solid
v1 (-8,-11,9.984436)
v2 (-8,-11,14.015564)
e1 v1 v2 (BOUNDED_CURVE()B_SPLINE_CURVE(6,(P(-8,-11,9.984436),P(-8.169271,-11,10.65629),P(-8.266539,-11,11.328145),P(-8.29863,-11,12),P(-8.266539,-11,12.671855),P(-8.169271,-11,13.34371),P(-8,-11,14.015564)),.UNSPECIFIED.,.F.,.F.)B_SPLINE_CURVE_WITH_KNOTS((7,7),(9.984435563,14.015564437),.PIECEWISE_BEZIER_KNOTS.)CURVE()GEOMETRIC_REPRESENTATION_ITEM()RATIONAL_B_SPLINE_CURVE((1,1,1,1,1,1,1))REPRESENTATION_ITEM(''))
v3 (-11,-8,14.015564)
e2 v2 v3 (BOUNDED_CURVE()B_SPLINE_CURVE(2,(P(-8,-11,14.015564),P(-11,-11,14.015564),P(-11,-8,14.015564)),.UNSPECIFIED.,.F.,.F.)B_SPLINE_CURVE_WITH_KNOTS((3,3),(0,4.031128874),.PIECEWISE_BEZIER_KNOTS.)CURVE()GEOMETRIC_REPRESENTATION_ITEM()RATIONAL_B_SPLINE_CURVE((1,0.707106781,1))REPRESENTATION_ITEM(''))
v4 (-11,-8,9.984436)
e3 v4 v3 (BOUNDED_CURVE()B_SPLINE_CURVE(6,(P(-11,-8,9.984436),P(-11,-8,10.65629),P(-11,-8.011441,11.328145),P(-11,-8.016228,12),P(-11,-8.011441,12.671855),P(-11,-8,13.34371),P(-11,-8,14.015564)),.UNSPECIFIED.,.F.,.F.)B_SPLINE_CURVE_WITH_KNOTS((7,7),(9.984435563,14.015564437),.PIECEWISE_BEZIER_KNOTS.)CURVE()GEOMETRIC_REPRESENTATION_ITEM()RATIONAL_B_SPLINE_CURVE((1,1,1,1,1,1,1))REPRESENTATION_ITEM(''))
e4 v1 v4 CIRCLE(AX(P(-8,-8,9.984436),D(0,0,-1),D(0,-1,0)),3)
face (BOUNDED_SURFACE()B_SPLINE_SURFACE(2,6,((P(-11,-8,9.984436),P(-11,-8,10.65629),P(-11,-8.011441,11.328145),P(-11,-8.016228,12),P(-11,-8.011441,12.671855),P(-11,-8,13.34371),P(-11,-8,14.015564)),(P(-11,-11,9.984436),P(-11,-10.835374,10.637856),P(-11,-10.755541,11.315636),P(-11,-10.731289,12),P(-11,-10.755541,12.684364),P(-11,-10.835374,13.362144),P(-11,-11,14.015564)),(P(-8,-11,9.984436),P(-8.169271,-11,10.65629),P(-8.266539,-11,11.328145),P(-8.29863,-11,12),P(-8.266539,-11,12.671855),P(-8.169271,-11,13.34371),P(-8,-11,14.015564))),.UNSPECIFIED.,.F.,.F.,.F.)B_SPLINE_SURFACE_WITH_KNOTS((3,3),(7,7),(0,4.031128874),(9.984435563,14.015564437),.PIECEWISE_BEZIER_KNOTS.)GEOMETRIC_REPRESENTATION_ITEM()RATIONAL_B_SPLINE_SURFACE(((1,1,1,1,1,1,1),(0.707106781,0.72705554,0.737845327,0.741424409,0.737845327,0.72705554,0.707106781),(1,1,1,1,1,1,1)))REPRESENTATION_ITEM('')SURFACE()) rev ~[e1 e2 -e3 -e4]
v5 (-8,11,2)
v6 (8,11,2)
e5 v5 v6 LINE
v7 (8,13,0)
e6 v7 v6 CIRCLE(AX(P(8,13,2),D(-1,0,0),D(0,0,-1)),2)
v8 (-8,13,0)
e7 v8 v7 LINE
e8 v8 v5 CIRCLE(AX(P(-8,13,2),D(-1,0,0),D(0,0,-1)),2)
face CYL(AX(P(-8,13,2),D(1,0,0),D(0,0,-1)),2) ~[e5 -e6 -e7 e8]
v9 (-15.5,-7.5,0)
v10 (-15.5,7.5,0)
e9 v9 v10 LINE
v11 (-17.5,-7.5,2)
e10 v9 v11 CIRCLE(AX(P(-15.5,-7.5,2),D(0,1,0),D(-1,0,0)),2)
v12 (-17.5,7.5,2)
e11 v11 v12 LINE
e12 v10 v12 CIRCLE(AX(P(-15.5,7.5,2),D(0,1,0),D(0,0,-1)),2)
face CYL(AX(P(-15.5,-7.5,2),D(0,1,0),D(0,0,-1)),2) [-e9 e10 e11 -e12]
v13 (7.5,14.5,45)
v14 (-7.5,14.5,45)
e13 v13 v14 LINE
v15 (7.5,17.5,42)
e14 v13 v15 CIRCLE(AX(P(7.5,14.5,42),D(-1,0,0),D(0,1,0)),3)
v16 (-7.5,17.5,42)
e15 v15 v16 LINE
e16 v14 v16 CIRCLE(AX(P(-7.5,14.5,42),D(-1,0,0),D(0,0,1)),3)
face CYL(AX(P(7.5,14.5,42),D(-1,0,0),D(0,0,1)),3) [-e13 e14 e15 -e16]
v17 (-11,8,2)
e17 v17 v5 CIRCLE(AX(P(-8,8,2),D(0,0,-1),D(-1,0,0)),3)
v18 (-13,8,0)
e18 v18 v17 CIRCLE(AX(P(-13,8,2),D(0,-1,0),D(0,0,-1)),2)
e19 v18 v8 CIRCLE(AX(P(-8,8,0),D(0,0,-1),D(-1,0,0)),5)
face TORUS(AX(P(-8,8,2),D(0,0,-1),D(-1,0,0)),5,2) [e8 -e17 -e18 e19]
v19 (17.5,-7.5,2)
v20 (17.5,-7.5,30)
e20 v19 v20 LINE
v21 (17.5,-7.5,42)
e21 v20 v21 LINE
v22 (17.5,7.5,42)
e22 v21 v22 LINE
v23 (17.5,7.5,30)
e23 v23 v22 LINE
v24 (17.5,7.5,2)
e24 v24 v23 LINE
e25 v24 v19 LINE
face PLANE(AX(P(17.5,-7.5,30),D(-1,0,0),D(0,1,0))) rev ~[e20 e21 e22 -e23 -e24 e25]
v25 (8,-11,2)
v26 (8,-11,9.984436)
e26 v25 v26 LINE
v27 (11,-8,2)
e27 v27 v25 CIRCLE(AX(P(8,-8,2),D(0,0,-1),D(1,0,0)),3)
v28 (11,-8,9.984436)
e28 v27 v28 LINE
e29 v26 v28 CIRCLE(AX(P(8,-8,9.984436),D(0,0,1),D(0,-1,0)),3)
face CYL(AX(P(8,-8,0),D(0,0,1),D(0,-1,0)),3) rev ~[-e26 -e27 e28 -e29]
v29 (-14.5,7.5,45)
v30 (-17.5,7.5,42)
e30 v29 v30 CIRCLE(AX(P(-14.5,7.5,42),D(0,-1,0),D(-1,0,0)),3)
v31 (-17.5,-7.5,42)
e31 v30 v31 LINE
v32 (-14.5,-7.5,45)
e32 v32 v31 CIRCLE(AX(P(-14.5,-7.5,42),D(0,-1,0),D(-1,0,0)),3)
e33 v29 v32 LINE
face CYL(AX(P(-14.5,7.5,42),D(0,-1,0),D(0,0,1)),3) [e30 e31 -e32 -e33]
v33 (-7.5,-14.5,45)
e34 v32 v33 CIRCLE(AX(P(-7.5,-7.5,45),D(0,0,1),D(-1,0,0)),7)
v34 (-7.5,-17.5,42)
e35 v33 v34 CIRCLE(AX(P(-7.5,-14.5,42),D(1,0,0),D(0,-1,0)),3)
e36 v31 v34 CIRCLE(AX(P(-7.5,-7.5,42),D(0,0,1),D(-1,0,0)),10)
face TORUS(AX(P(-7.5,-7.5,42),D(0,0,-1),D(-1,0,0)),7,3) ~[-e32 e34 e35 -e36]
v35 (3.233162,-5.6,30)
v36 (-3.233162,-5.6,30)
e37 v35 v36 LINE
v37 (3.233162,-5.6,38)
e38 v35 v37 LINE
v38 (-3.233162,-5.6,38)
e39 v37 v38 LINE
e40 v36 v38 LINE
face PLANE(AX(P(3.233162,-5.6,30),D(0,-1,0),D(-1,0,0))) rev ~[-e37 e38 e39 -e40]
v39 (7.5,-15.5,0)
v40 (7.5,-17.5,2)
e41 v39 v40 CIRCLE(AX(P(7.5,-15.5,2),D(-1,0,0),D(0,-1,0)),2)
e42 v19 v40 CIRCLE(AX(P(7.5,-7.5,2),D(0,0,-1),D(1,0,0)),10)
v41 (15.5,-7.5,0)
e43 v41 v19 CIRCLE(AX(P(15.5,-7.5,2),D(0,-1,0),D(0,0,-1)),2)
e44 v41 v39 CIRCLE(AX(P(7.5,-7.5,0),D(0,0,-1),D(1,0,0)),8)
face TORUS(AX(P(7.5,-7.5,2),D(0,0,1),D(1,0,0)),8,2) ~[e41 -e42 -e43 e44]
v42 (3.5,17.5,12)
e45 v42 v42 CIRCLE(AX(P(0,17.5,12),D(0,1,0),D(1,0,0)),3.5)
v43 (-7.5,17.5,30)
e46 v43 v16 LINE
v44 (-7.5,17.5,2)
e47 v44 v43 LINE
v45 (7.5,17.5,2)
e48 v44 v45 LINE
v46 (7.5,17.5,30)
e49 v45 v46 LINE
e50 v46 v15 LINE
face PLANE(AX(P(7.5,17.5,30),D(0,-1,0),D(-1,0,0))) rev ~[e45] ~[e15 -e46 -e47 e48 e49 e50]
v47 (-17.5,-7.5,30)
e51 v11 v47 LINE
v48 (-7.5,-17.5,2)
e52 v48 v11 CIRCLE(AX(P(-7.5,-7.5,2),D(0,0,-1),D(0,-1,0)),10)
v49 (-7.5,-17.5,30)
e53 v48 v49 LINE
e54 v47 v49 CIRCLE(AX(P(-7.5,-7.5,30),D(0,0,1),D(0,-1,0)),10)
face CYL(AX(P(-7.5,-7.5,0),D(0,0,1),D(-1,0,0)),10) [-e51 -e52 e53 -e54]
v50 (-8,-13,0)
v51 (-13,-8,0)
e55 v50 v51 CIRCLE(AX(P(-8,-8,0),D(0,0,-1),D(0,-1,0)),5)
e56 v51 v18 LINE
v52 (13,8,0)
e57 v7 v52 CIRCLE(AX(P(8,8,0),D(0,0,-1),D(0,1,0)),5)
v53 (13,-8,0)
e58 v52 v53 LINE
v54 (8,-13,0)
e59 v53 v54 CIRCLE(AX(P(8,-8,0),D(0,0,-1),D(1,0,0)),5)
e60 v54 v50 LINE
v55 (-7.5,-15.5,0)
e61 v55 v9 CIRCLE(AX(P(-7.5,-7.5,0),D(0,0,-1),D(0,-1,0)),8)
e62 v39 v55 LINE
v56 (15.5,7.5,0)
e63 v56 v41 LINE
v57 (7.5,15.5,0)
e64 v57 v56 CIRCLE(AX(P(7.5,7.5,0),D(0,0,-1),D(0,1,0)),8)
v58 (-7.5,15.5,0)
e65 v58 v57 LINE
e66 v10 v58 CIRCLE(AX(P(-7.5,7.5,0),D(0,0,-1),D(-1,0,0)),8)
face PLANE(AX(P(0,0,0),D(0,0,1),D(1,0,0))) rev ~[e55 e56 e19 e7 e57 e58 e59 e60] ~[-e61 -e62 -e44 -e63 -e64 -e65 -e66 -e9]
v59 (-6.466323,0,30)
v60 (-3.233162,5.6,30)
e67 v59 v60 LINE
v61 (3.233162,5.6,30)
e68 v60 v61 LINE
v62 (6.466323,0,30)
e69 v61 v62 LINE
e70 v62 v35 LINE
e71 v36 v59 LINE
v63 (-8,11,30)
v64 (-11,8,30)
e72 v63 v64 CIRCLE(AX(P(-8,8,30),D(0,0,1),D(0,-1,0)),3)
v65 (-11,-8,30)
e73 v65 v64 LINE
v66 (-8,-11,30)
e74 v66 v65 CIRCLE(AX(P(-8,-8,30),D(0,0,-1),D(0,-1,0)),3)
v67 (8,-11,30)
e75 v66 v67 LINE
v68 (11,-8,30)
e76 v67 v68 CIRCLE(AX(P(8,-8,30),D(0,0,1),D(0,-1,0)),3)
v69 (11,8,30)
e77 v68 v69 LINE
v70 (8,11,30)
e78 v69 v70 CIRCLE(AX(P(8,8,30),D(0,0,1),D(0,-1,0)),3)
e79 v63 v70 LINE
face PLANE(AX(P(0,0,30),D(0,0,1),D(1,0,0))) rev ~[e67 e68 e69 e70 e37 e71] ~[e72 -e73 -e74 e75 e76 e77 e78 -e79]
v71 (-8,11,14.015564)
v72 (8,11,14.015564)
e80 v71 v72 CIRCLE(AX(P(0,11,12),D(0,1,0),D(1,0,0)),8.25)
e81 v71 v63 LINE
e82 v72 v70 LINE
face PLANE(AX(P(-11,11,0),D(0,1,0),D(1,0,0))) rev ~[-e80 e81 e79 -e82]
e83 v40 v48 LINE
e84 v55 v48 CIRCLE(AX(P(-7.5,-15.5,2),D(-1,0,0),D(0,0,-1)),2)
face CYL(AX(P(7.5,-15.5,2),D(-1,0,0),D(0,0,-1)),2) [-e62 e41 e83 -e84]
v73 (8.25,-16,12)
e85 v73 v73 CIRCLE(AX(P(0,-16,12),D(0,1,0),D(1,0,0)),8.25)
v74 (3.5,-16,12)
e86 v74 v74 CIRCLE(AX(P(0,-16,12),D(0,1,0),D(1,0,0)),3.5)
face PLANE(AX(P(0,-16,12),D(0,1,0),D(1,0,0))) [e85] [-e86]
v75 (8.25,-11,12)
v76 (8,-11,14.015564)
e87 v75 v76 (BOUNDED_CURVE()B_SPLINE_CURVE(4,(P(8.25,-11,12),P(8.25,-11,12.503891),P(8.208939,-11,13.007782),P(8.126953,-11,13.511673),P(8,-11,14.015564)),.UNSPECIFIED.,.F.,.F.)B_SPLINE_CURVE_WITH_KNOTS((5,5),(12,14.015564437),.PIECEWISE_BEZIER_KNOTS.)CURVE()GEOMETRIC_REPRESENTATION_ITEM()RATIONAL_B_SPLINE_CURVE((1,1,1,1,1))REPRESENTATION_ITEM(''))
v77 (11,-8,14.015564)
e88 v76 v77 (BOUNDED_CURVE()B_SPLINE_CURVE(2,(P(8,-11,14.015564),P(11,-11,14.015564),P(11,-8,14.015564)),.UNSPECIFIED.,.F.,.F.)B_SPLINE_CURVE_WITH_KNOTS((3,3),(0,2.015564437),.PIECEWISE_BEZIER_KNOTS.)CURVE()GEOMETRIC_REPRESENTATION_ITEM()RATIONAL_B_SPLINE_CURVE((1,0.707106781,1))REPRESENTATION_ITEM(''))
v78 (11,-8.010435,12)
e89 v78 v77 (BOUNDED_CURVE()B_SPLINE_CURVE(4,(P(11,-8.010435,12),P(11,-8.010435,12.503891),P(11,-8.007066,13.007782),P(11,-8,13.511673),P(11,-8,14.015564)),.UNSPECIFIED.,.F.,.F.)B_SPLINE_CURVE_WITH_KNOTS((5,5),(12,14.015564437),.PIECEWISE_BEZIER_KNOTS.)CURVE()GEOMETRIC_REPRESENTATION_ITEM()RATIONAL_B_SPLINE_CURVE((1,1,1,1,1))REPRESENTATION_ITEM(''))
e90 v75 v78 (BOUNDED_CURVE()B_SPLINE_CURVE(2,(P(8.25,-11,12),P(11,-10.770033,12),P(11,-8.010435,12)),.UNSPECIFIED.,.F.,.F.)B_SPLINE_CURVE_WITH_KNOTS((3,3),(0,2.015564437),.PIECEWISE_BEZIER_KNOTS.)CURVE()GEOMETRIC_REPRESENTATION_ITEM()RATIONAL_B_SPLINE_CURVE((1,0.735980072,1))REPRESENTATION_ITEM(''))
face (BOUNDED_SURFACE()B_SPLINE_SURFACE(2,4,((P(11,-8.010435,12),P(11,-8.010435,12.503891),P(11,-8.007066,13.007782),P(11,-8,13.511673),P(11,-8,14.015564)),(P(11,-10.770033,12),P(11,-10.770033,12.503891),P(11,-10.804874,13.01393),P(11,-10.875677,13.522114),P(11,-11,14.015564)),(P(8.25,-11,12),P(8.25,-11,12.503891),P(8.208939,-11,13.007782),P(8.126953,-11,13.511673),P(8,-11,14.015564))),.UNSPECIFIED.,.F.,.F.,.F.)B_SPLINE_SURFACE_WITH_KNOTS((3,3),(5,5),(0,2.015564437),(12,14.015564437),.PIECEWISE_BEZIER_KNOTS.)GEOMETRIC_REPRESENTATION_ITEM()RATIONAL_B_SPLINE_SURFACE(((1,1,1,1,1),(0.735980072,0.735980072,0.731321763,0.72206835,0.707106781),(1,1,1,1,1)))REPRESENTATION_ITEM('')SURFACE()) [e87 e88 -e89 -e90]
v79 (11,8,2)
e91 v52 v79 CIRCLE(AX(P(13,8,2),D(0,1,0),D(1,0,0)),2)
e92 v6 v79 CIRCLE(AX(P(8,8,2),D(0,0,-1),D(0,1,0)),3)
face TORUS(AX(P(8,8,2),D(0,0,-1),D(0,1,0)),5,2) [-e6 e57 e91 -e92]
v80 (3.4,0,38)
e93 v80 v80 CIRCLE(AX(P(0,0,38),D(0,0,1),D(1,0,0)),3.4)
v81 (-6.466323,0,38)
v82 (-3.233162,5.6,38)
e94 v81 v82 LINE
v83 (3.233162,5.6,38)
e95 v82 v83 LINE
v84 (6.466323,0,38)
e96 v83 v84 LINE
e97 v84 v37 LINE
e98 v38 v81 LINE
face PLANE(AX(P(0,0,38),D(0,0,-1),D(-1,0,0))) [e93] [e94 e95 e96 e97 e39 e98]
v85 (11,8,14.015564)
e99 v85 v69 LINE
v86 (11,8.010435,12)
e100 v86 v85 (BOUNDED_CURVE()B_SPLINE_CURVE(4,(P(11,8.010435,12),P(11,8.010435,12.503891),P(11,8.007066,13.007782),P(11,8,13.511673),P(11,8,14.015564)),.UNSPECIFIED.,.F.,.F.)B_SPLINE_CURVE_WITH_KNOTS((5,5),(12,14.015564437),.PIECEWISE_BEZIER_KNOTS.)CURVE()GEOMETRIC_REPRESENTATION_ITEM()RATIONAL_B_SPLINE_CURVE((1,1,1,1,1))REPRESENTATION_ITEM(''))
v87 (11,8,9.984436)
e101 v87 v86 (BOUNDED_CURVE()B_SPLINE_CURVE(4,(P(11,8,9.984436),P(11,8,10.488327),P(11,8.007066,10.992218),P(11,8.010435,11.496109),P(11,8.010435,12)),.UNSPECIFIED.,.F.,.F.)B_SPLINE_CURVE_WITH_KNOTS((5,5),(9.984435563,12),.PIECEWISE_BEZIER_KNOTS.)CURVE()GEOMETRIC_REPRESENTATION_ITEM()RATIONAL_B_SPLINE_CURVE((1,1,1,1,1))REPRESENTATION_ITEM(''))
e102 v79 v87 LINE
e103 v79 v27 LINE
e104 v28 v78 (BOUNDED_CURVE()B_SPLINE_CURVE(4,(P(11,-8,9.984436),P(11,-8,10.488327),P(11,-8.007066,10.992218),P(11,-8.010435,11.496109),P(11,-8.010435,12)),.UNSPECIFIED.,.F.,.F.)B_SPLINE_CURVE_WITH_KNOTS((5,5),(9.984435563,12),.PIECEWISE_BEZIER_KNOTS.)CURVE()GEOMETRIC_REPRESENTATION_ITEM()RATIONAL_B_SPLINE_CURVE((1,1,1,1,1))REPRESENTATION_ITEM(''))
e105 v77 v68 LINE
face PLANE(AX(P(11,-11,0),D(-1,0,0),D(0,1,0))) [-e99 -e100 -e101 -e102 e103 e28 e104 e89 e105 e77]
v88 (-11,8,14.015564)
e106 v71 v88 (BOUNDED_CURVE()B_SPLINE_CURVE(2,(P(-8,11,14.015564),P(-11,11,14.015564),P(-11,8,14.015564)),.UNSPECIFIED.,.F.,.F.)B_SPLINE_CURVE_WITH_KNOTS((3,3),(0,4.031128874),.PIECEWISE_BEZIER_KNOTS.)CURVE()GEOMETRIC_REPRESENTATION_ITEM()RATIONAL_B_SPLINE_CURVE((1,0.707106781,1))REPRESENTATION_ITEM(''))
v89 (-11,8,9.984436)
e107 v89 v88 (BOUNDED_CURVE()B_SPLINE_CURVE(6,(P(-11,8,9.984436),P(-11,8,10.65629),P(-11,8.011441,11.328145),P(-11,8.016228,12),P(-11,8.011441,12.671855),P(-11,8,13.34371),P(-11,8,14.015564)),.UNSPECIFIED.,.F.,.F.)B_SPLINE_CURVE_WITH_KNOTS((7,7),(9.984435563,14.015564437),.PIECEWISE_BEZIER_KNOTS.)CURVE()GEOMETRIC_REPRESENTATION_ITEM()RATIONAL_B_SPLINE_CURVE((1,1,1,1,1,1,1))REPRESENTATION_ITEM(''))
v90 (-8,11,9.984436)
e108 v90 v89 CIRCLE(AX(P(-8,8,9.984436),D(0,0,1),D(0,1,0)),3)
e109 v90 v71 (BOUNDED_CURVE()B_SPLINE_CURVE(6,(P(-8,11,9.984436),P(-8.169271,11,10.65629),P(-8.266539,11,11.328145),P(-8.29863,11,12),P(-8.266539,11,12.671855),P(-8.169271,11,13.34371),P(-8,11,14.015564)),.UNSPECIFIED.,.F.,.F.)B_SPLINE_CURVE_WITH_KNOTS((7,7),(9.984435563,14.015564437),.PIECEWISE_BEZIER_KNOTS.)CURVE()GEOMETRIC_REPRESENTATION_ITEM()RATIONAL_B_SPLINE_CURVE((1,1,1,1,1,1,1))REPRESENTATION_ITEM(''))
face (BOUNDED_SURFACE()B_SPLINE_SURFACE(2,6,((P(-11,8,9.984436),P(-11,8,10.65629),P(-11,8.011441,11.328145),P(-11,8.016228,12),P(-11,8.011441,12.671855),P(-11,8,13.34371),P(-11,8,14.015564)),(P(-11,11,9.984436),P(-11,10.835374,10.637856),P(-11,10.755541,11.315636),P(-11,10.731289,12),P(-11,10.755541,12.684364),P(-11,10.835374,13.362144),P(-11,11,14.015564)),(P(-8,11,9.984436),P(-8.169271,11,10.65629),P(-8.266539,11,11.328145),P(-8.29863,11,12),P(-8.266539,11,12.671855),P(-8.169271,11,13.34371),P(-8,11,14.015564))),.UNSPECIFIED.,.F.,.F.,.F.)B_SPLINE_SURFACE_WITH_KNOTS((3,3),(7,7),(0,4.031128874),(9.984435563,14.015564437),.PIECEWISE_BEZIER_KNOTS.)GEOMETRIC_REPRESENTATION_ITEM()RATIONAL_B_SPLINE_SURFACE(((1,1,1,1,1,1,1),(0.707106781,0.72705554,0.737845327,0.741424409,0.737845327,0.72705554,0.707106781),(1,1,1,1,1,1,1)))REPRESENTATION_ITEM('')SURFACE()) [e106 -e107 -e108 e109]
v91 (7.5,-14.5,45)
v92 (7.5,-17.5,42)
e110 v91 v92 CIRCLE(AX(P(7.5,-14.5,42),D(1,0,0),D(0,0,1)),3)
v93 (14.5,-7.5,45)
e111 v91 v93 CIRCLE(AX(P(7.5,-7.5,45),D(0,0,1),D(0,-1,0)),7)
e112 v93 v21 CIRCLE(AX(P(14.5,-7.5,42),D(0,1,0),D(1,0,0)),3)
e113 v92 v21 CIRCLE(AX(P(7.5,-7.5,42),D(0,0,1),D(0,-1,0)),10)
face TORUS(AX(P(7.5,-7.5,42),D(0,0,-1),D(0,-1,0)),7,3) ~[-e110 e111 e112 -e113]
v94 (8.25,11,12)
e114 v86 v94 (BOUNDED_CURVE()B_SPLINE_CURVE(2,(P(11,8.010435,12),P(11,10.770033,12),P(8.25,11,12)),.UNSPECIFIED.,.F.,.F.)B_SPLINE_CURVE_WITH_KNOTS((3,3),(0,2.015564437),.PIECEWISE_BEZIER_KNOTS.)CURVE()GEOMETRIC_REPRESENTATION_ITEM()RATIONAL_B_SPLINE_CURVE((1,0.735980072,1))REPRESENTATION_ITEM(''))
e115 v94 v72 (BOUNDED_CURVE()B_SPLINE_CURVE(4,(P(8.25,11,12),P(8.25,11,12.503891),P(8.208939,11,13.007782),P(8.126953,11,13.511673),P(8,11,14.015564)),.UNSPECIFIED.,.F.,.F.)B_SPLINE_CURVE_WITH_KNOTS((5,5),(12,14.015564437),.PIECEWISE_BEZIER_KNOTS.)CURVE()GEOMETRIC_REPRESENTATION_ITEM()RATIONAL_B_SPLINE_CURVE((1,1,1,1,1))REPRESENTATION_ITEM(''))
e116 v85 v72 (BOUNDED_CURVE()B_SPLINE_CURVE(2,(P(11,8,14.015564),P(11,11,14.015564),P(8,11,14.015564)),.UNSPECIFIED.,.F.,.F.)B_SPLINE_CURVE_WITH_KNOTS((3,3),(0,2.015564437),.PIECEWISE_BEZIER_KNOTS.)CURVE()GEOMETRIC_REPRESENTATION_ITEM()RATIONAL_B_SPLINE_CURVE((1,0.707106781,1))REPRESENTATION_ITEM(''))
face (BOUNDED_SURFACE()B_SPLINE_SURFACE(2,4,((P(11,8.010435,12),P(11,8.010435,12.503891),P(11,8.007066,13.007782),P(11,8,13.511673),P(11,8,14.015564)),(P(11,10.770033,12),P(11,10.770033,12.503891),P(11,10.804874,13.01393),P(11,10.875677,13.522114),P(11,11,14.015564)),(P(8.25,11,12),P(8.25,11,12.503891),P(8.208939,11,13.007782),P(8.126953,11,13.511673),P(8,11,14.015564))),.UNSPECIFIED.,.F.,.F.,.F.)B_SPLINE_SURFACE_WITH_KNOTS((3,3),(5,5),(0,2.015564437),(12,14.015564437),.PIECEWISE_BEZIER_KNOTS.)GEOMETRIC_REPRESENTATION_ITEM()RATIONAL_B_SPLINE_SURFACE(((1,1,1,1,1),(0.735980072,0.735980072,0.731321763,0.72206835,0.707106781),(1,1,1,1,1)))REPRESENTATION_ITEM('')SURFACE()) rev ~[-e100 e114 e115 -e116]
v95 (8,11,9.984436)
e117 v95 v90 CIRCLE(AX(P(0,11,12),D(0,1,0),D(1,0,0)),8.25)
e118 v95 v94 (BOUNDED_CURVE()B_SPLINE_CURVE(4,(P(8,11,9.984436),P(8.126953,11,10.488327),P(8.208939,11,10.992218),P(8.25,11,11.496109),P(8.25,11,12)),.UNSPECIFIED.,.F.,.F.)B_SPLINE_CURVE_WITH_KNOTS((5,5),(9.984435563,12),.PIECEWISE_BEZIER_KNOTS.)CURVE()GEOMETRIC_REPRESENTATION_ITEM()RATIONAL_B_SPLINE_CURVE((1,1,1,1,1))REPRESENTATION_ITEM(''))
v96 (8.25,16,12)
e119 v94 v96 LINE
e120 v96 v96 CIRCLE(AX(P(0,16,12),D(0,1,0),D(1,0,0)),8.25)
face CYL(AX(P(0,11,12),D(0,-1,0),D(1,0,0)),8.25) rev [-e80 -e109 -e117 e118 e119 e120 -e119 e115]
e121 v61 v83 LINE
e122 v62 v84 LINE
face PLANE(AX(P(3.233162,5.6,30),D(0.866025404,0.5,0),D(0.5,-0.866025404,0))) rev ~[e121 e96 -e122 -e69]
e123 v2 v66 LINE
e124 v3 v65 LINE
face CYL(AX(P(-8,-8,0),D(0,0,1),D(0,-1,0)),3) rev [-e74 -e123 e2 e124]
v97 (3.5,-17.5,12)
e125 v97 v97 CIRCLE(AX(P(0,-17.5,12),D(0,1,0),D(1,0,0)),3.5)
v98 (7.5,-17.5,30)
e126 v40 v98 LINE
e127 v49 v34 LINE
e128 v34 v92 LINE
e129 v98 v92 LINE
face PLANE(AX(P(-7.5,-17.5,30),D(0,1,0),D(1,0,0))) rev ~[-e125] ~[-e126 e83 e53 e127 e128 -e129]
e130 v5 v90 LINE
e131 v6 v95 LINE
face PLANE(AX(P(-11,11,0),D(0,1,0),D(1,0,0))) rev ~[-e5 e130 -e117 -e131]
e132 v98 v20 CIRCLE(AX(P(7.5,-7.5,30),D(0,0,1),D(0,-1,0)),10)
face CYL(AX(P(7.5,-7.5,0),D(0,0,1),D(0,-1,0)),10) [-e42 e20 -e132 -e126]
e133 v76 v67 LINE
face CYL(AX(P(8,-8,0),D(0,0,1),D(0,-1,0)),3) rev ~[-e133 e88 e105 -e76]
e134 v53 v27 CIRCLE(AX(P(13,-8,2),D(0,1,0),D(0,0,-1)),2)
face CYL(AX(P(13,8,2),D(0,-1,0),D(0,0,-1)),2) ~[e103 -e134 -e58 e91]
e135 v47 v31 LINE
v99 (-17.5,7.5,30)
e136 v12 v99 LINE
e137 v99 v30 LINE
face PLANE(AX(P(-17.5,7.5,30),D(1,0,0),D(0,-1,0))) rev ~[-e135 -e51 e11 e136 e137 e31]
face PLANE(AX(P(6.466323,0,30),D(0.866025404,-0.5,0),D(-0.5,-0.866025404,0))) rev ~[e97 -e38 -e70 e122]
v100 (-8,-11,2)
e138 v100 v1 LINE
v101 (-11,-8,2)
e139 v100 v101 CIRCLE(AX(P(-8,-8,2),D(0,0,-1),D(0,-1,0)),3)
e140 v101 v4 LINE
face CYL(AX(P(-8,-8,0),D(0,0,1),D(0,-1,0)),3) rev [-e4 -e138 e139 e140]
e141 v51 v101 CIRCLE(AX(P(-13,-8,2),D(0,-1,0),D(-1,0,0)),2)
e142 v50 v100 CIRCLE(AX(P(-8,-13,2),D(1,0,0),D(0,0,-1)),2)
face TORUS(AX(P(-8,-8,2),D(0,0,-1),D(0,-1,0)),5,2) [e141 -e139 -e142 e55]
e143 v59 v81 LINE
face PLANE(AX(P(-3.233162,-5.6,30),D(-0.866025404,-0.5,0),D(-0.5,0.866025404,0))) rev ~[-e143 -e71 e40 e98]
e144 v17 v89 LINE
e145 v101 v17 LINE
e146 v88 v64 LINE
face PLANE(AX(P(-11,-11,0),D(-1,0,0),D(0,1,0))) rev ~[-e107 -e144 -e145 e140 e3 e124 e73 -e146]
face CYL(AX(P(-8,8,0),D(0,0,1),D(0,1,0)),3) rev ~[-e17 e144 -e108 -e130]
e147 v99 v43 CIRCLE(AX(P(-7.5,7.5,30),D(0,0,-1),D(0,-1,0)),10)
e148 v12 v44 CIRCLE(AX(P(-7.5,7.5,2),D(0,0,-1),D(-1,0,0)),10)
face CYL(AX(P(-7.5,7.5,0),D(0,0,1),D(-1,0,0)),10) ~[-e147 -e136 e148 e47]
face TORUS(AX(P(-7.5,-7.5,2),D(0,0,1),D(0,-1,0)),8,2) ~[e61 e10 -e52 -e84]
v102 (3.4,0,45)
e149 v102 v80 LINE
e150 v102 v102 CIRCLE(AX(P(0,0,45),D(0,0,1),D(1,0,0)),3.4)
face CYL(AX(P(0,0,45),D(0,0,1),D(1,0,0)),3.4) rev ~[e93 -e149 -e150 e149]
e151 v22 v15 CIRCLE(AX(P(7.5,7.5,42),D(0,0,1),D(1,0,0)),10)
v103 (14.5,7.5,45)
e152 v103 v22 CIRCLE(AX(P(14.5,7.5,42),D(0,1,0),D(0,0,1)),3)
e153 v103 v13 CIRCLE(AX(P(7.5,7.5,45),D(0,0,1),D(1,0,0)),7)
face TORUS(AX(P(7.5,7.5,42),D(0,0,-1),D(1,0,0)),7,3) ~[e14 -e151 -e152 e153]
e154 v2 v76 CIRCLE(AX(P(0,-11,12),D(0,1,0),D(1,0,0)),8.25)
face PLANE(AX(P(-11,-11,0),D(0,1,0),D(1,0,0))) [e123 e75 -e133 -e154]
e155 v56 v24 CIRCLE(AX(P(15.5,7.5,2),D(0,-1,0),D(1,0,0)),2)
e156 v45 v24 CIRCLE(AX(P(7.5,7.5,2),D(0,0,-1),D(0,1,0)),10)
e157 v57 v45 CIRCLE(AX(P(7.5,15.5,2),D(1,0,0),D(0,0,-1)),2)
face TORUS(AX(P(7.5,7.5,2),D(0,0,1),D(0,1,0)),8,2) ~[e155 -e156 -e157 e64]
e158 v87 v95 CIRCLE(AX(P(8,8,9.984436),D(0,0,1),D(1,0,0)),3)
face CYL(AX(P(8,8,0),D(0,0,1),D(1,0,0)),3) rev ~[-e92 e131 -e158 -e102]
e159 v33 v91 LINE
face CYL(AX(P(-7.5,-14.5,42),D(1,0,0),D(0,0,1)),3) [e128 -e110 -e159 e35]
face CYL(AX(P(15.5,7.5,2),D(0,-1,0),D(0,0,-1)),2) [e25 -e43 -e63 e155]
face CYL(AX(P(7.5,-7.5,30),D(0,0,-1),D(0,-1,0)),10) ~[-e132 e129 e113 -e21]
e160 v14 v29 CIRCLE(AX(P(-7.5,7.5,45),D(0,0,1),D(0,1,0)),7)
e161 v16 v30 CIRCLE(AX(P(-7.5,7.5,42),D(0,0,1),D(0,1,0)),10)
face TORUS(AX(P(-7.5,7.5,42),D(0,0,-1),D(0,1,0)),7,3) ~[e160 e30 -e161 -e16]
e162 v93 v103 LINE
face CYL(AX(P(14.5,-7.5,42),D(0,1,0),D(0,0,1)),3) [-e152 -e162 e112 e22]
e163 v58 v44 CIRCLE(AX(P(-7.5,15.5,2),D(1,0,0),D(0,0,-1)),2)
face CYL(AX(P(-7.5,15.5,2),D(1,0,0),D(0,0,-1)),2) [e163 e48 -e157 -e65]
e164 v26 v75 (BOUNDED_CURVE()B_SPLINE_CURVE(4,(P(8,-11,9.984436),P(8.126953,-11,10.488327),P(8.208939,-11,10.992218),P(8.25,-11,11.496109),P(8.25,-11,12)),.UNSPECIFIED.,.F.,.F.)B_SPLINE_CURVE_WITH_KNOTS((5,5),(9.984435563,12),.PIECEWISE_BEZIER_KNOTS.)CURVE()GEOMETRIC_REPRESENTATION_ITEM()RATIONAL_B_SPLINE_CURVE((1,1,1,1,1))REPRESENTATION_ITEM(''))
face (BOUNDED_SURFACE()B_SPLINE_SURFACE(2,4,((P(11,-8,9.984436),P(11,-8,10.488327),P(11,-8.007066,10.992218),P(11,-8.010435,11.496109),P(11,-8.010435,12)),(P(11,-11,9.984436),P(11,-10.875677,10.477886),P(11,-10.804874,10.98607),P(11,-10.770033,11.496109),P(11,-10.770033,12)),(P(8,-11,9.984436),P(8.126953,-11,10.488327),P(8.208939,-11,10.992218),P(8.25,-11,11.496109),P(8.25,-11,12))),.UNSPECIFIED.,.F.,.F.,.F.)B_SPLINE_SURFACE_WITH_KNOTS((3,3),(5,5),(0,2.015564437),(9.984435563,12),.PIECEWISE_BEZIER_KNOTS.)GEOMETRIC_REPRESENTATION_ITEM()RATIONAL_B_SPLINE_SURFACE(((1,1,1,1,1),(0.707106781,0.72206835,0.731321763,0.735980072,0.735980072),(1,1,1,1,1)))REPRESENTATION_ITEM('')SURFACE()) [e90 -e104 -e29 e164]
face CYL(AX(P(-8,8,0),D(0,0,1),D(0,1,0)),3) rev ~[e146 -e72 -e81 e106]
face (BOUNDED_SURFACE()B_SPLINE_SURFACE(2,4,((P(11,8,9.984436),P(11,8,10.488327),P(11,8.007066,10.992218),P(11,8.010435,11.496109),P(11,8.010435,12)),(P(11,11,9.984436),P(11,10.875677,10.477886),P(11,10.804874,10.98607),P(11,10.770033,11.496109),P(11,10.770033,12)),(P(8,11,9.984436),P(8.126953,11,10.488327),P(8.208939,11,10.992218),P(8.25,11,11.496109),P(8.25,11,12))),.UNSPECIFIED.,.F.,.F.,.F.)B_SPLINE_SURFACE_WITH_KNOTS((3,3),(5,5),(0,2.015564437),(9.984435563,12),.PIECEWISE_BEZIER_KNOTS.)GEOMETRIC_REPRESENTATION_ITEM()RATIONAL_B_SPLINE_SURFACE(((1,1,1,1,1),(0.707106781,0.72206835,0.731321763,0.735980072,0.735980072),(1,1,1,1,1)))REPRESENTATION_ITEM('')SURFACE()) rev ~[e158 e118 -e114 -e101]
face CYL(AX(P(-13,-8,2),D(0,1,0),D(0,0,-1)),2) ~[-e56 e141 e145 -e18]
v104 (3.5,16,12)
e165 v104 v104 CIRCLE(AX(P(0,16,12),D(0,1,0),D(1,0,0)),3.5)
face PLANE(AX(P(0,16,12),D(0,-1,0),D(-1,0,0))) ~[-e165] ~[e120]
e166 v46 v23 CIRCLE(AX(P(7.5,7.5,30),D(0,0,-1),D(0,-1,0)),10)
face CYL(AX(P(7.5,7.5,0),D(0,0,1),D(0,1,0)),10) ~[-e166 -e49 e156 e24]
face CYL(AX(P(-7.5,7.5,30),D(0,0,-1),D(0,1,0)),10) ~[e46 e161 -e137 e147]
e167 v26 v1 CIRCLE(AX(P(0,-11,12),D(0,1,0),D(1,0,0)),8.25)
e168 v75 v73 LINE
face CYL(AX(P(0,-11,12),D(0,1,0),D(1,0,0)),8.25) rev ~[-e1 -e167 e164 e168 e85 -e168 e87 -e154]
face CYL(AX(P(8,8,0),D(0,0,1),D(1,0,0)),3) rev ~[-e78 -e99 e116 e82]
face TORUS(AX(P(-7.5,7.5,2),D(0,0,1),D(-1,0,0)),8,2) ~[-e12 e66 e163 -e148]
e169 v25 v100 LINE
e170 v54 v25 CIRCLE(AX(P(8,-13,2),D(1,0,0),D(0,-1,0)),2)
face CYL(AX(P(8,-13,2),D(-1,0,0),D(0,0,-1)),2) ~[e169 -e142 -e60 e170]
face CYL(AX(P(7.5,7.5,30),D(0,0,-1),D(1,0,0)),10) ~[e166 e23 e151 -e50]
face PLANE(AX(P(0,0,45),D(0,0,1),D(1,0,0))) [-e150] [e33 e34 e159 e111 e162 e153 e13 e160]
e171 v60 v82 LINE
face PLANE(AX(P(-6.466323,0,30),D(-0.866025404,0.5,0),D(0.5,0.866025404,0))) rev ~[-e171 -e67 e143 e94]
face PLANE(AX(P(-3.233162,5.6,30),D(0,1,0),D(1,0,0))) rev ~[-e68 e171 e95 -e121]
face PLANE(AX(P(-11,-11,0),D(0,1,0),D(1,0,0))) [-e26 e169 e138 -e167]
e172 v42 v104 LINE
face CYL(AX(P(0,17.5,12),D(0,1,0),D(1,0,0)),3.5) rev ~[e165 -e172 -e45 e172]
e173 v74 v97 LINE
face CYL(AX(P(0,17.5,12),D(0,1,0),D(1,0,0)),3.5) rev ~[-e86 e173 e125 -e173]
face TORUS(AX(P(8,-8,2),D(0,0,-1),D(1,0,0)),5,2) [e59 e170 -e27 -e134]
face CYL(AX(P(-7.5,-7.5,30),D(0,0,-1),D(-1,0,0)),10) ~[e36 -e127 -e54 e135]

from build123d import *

# Parameters (mm, degrees)
SKETCH1_W                = 35
SKETCH1_H                = 35
SKETCH1_W_2              = 22
SKETCH1_H_2              = 22
BOSS_EXTRUDE1_DEPTH      = 30
SKETCH3_R                = 3.5
CUT_EXTRUDE2_DEPTH       = 50.307707308
SKETCH4_R                = 8.25
CUT_EXTRUDE3_DEPTH       = 5
FILLET1_R                = 10
FILLET4_R                = 2
FILLET5_R                = 3
NUT_START                = 15
NUT_RETENTION_AREA_DEPTH = 15
CUT_EXTRUDE5_DEPTH       = 8
SKETCH7_R                = 3.4
CUT_EXTRUDE6_DEPTH       = 52.356596548
FILLET6_R                = 3
FILLET7_R                = 2


with BuildPart() as part:
    # Sketch1 → Boss-Extrude1 (new body)
    with BuildSketch(Plane.XY):
        Rectangle(SKETCH1_W, SKETCH1_H)
        Rectangle(SKETCH1_W_2, SKETCH1_H_2, mode=Mode.SUBTRACT)
    extrude(amount=BOSS_EXTRUDE1_DEPTH)

    # Sketch3 → Cut-Extrude2 (cut, through all)
    with BuildSketch(Plane(origin=(0, 17.5, 0), x_dir=(1, 0, 0), z_dir=(0, 1, 0))):
        with Locations((0, -12)):
            Circle(SKETCH3_R)
    extrude(amount=-CUT_EXTRUDE2_DEPTH, mode=Mode.SUBTRACT)

    # Sketch4 → Cut-Extrude3 (cut)
    with BuildSketch(Plane(origin=(0, -11, 0), x_dir=(1, 0, 0), z_dir=(0, 1, 0))):
        with Locations((0, -12)):
            Circle(SKETCH4_R)
    cut_extrude3 = extrude(amount=-CUT_EXTRUDE3_DEPTH, mode=Mode.SUBTRACT)

    # Mirror2: Cut-Extrude3 across plane
    add(cut_extrude3.mirror(Plane.ZX), mode=Mode.SUBTRACT)

    # Fillet1
    fillet1_edges = [part.edges().sort_by_distance(p)[0] for p in [
        (17.5, 17.5, 15),
        (17.5, -17.5, 15),
        (-17.5, -17.5, 15),
        (-17.5, 17.5, 15),
    ]]
    fillet(fillet1_edges, radius=FILLET1_R)

    # Fillet4
    fillet4_edges = [part.edges().sort_by_distance(p)[0] for p in [
        (14.571067812, 14.571067812, 0),
        (17.5, 0, 0),
        (14.571067812, -14.571067812, 0),
        (0, -17.5, 0),
        (-14.571067812, -14.571067812, 0),
        (-17.5, 0, 0),
        (-14.571067812, 14.571067812, 0),
        (0, 17.5, 0),
    ]]
    fillet(fillet4_edges, radius=FILLET4_R)

    # Fillet5
    fillet5_edges = [part.edges().sort_by_distance(p)[0] for p in [
        (-11, 11, 15),
        (11, 11, 15),
        (11, -11, 15),
        (-11, -11, 15),
    ]]
    fillet(fillet5_edges, radius=FILLET5_R)

    # Sketch6 → Nut Retention Area (add)
    with BuildSketch(Plane.XY.offset(30).offset(NUT_START)):
        with BuildLine():
            Line((7.5, 17.5), (-7.5, 17.5))
            ThreePointArc((-7.5, 17.5), (-14.571067812, 14.571067812), (-17.5, 7.5))
            Line((-17.5, 7.5), (-17.5, -7.5))
            ThreePointArc((-17.5, -7.5), (-14.571067812, -14.571067812), (-7.5, -17.5))
            Line((-7.5, -17.5), (7.5, -17.5))
            ThreePointArc((7.5, -17.5), (14.571067812, -14.571067812), (17.5, -7.5))
            Line((17.5, -7.5), (17.5, 7.5))
            ThreePointArc((17.5, 7.5), (14.571067812, 14.571067812), (7.5, 17.5))
        make_face()
    extrude(amount=-NUT_RETENTION_AREA_DEPTH)

    # Sketch8 → Cut-Extrude5 (cut)
    with BuildSketch(Plane(origin=(0, 0, 30), x_dir=(-1, 0, 0), z_dir=(0, 0, -1))):
        Polygon((3.233161507, -5.6), (6.466323015, 0), (3.233161507, 5.6), (-3.233161507, 5.6), (-6.466323015, 0), (-3.233161507, -5.6), align=None)
    extrude(amount=-CUT_EXTRUDE5_DEPTH, mode=Mode.SUBTRACT)

    # Sketch7 → Cut-Extrude6 (cut, through all)
    with BuildSketch(Plane.XY.offset(45)):
        Circle(SKETCH7_R)
    extrude(amount=-CUT_EXTRUDE6_DEPTH, mode=Mode.SUBTRACT)

    # Fillet6
    fillet6_edges = [part.edges().sort_by_distance(p)[0] for p in [
        (0, 17.5, 45),
        (14.571067812, 14.571067812, 45),
        (17.5, 0, 45),
        (14.571067812, -14.571067812, 45),
        (0, -17.5, 45),
        (-14.571067812, -14.571067812, 45),
        (-17.5, 0, 45),
        (-14.571067812, 14.571067812, 45),
    ]]
    fillet(fillet6_edges, radius=FILLET6_R)

    # Fillet7
    fillet7_edges = [part.edges().sort_by_distance(p)[0] for p in [
        (10.121320344, 10.121320344, 0),
        (11, 0, 0),
        (10.121320344, -10.121320344, 0),
        (0, -11, 0),
        (-10.121320344, -10.121320344, 0),
        (-11, 0, 0),
        (-10.121320344, 10.121320344, 0),
        (0, 11, 0),
    ]]
    fillet(fillet7_edges, radius=FILLET7_R)


solid = part.part
